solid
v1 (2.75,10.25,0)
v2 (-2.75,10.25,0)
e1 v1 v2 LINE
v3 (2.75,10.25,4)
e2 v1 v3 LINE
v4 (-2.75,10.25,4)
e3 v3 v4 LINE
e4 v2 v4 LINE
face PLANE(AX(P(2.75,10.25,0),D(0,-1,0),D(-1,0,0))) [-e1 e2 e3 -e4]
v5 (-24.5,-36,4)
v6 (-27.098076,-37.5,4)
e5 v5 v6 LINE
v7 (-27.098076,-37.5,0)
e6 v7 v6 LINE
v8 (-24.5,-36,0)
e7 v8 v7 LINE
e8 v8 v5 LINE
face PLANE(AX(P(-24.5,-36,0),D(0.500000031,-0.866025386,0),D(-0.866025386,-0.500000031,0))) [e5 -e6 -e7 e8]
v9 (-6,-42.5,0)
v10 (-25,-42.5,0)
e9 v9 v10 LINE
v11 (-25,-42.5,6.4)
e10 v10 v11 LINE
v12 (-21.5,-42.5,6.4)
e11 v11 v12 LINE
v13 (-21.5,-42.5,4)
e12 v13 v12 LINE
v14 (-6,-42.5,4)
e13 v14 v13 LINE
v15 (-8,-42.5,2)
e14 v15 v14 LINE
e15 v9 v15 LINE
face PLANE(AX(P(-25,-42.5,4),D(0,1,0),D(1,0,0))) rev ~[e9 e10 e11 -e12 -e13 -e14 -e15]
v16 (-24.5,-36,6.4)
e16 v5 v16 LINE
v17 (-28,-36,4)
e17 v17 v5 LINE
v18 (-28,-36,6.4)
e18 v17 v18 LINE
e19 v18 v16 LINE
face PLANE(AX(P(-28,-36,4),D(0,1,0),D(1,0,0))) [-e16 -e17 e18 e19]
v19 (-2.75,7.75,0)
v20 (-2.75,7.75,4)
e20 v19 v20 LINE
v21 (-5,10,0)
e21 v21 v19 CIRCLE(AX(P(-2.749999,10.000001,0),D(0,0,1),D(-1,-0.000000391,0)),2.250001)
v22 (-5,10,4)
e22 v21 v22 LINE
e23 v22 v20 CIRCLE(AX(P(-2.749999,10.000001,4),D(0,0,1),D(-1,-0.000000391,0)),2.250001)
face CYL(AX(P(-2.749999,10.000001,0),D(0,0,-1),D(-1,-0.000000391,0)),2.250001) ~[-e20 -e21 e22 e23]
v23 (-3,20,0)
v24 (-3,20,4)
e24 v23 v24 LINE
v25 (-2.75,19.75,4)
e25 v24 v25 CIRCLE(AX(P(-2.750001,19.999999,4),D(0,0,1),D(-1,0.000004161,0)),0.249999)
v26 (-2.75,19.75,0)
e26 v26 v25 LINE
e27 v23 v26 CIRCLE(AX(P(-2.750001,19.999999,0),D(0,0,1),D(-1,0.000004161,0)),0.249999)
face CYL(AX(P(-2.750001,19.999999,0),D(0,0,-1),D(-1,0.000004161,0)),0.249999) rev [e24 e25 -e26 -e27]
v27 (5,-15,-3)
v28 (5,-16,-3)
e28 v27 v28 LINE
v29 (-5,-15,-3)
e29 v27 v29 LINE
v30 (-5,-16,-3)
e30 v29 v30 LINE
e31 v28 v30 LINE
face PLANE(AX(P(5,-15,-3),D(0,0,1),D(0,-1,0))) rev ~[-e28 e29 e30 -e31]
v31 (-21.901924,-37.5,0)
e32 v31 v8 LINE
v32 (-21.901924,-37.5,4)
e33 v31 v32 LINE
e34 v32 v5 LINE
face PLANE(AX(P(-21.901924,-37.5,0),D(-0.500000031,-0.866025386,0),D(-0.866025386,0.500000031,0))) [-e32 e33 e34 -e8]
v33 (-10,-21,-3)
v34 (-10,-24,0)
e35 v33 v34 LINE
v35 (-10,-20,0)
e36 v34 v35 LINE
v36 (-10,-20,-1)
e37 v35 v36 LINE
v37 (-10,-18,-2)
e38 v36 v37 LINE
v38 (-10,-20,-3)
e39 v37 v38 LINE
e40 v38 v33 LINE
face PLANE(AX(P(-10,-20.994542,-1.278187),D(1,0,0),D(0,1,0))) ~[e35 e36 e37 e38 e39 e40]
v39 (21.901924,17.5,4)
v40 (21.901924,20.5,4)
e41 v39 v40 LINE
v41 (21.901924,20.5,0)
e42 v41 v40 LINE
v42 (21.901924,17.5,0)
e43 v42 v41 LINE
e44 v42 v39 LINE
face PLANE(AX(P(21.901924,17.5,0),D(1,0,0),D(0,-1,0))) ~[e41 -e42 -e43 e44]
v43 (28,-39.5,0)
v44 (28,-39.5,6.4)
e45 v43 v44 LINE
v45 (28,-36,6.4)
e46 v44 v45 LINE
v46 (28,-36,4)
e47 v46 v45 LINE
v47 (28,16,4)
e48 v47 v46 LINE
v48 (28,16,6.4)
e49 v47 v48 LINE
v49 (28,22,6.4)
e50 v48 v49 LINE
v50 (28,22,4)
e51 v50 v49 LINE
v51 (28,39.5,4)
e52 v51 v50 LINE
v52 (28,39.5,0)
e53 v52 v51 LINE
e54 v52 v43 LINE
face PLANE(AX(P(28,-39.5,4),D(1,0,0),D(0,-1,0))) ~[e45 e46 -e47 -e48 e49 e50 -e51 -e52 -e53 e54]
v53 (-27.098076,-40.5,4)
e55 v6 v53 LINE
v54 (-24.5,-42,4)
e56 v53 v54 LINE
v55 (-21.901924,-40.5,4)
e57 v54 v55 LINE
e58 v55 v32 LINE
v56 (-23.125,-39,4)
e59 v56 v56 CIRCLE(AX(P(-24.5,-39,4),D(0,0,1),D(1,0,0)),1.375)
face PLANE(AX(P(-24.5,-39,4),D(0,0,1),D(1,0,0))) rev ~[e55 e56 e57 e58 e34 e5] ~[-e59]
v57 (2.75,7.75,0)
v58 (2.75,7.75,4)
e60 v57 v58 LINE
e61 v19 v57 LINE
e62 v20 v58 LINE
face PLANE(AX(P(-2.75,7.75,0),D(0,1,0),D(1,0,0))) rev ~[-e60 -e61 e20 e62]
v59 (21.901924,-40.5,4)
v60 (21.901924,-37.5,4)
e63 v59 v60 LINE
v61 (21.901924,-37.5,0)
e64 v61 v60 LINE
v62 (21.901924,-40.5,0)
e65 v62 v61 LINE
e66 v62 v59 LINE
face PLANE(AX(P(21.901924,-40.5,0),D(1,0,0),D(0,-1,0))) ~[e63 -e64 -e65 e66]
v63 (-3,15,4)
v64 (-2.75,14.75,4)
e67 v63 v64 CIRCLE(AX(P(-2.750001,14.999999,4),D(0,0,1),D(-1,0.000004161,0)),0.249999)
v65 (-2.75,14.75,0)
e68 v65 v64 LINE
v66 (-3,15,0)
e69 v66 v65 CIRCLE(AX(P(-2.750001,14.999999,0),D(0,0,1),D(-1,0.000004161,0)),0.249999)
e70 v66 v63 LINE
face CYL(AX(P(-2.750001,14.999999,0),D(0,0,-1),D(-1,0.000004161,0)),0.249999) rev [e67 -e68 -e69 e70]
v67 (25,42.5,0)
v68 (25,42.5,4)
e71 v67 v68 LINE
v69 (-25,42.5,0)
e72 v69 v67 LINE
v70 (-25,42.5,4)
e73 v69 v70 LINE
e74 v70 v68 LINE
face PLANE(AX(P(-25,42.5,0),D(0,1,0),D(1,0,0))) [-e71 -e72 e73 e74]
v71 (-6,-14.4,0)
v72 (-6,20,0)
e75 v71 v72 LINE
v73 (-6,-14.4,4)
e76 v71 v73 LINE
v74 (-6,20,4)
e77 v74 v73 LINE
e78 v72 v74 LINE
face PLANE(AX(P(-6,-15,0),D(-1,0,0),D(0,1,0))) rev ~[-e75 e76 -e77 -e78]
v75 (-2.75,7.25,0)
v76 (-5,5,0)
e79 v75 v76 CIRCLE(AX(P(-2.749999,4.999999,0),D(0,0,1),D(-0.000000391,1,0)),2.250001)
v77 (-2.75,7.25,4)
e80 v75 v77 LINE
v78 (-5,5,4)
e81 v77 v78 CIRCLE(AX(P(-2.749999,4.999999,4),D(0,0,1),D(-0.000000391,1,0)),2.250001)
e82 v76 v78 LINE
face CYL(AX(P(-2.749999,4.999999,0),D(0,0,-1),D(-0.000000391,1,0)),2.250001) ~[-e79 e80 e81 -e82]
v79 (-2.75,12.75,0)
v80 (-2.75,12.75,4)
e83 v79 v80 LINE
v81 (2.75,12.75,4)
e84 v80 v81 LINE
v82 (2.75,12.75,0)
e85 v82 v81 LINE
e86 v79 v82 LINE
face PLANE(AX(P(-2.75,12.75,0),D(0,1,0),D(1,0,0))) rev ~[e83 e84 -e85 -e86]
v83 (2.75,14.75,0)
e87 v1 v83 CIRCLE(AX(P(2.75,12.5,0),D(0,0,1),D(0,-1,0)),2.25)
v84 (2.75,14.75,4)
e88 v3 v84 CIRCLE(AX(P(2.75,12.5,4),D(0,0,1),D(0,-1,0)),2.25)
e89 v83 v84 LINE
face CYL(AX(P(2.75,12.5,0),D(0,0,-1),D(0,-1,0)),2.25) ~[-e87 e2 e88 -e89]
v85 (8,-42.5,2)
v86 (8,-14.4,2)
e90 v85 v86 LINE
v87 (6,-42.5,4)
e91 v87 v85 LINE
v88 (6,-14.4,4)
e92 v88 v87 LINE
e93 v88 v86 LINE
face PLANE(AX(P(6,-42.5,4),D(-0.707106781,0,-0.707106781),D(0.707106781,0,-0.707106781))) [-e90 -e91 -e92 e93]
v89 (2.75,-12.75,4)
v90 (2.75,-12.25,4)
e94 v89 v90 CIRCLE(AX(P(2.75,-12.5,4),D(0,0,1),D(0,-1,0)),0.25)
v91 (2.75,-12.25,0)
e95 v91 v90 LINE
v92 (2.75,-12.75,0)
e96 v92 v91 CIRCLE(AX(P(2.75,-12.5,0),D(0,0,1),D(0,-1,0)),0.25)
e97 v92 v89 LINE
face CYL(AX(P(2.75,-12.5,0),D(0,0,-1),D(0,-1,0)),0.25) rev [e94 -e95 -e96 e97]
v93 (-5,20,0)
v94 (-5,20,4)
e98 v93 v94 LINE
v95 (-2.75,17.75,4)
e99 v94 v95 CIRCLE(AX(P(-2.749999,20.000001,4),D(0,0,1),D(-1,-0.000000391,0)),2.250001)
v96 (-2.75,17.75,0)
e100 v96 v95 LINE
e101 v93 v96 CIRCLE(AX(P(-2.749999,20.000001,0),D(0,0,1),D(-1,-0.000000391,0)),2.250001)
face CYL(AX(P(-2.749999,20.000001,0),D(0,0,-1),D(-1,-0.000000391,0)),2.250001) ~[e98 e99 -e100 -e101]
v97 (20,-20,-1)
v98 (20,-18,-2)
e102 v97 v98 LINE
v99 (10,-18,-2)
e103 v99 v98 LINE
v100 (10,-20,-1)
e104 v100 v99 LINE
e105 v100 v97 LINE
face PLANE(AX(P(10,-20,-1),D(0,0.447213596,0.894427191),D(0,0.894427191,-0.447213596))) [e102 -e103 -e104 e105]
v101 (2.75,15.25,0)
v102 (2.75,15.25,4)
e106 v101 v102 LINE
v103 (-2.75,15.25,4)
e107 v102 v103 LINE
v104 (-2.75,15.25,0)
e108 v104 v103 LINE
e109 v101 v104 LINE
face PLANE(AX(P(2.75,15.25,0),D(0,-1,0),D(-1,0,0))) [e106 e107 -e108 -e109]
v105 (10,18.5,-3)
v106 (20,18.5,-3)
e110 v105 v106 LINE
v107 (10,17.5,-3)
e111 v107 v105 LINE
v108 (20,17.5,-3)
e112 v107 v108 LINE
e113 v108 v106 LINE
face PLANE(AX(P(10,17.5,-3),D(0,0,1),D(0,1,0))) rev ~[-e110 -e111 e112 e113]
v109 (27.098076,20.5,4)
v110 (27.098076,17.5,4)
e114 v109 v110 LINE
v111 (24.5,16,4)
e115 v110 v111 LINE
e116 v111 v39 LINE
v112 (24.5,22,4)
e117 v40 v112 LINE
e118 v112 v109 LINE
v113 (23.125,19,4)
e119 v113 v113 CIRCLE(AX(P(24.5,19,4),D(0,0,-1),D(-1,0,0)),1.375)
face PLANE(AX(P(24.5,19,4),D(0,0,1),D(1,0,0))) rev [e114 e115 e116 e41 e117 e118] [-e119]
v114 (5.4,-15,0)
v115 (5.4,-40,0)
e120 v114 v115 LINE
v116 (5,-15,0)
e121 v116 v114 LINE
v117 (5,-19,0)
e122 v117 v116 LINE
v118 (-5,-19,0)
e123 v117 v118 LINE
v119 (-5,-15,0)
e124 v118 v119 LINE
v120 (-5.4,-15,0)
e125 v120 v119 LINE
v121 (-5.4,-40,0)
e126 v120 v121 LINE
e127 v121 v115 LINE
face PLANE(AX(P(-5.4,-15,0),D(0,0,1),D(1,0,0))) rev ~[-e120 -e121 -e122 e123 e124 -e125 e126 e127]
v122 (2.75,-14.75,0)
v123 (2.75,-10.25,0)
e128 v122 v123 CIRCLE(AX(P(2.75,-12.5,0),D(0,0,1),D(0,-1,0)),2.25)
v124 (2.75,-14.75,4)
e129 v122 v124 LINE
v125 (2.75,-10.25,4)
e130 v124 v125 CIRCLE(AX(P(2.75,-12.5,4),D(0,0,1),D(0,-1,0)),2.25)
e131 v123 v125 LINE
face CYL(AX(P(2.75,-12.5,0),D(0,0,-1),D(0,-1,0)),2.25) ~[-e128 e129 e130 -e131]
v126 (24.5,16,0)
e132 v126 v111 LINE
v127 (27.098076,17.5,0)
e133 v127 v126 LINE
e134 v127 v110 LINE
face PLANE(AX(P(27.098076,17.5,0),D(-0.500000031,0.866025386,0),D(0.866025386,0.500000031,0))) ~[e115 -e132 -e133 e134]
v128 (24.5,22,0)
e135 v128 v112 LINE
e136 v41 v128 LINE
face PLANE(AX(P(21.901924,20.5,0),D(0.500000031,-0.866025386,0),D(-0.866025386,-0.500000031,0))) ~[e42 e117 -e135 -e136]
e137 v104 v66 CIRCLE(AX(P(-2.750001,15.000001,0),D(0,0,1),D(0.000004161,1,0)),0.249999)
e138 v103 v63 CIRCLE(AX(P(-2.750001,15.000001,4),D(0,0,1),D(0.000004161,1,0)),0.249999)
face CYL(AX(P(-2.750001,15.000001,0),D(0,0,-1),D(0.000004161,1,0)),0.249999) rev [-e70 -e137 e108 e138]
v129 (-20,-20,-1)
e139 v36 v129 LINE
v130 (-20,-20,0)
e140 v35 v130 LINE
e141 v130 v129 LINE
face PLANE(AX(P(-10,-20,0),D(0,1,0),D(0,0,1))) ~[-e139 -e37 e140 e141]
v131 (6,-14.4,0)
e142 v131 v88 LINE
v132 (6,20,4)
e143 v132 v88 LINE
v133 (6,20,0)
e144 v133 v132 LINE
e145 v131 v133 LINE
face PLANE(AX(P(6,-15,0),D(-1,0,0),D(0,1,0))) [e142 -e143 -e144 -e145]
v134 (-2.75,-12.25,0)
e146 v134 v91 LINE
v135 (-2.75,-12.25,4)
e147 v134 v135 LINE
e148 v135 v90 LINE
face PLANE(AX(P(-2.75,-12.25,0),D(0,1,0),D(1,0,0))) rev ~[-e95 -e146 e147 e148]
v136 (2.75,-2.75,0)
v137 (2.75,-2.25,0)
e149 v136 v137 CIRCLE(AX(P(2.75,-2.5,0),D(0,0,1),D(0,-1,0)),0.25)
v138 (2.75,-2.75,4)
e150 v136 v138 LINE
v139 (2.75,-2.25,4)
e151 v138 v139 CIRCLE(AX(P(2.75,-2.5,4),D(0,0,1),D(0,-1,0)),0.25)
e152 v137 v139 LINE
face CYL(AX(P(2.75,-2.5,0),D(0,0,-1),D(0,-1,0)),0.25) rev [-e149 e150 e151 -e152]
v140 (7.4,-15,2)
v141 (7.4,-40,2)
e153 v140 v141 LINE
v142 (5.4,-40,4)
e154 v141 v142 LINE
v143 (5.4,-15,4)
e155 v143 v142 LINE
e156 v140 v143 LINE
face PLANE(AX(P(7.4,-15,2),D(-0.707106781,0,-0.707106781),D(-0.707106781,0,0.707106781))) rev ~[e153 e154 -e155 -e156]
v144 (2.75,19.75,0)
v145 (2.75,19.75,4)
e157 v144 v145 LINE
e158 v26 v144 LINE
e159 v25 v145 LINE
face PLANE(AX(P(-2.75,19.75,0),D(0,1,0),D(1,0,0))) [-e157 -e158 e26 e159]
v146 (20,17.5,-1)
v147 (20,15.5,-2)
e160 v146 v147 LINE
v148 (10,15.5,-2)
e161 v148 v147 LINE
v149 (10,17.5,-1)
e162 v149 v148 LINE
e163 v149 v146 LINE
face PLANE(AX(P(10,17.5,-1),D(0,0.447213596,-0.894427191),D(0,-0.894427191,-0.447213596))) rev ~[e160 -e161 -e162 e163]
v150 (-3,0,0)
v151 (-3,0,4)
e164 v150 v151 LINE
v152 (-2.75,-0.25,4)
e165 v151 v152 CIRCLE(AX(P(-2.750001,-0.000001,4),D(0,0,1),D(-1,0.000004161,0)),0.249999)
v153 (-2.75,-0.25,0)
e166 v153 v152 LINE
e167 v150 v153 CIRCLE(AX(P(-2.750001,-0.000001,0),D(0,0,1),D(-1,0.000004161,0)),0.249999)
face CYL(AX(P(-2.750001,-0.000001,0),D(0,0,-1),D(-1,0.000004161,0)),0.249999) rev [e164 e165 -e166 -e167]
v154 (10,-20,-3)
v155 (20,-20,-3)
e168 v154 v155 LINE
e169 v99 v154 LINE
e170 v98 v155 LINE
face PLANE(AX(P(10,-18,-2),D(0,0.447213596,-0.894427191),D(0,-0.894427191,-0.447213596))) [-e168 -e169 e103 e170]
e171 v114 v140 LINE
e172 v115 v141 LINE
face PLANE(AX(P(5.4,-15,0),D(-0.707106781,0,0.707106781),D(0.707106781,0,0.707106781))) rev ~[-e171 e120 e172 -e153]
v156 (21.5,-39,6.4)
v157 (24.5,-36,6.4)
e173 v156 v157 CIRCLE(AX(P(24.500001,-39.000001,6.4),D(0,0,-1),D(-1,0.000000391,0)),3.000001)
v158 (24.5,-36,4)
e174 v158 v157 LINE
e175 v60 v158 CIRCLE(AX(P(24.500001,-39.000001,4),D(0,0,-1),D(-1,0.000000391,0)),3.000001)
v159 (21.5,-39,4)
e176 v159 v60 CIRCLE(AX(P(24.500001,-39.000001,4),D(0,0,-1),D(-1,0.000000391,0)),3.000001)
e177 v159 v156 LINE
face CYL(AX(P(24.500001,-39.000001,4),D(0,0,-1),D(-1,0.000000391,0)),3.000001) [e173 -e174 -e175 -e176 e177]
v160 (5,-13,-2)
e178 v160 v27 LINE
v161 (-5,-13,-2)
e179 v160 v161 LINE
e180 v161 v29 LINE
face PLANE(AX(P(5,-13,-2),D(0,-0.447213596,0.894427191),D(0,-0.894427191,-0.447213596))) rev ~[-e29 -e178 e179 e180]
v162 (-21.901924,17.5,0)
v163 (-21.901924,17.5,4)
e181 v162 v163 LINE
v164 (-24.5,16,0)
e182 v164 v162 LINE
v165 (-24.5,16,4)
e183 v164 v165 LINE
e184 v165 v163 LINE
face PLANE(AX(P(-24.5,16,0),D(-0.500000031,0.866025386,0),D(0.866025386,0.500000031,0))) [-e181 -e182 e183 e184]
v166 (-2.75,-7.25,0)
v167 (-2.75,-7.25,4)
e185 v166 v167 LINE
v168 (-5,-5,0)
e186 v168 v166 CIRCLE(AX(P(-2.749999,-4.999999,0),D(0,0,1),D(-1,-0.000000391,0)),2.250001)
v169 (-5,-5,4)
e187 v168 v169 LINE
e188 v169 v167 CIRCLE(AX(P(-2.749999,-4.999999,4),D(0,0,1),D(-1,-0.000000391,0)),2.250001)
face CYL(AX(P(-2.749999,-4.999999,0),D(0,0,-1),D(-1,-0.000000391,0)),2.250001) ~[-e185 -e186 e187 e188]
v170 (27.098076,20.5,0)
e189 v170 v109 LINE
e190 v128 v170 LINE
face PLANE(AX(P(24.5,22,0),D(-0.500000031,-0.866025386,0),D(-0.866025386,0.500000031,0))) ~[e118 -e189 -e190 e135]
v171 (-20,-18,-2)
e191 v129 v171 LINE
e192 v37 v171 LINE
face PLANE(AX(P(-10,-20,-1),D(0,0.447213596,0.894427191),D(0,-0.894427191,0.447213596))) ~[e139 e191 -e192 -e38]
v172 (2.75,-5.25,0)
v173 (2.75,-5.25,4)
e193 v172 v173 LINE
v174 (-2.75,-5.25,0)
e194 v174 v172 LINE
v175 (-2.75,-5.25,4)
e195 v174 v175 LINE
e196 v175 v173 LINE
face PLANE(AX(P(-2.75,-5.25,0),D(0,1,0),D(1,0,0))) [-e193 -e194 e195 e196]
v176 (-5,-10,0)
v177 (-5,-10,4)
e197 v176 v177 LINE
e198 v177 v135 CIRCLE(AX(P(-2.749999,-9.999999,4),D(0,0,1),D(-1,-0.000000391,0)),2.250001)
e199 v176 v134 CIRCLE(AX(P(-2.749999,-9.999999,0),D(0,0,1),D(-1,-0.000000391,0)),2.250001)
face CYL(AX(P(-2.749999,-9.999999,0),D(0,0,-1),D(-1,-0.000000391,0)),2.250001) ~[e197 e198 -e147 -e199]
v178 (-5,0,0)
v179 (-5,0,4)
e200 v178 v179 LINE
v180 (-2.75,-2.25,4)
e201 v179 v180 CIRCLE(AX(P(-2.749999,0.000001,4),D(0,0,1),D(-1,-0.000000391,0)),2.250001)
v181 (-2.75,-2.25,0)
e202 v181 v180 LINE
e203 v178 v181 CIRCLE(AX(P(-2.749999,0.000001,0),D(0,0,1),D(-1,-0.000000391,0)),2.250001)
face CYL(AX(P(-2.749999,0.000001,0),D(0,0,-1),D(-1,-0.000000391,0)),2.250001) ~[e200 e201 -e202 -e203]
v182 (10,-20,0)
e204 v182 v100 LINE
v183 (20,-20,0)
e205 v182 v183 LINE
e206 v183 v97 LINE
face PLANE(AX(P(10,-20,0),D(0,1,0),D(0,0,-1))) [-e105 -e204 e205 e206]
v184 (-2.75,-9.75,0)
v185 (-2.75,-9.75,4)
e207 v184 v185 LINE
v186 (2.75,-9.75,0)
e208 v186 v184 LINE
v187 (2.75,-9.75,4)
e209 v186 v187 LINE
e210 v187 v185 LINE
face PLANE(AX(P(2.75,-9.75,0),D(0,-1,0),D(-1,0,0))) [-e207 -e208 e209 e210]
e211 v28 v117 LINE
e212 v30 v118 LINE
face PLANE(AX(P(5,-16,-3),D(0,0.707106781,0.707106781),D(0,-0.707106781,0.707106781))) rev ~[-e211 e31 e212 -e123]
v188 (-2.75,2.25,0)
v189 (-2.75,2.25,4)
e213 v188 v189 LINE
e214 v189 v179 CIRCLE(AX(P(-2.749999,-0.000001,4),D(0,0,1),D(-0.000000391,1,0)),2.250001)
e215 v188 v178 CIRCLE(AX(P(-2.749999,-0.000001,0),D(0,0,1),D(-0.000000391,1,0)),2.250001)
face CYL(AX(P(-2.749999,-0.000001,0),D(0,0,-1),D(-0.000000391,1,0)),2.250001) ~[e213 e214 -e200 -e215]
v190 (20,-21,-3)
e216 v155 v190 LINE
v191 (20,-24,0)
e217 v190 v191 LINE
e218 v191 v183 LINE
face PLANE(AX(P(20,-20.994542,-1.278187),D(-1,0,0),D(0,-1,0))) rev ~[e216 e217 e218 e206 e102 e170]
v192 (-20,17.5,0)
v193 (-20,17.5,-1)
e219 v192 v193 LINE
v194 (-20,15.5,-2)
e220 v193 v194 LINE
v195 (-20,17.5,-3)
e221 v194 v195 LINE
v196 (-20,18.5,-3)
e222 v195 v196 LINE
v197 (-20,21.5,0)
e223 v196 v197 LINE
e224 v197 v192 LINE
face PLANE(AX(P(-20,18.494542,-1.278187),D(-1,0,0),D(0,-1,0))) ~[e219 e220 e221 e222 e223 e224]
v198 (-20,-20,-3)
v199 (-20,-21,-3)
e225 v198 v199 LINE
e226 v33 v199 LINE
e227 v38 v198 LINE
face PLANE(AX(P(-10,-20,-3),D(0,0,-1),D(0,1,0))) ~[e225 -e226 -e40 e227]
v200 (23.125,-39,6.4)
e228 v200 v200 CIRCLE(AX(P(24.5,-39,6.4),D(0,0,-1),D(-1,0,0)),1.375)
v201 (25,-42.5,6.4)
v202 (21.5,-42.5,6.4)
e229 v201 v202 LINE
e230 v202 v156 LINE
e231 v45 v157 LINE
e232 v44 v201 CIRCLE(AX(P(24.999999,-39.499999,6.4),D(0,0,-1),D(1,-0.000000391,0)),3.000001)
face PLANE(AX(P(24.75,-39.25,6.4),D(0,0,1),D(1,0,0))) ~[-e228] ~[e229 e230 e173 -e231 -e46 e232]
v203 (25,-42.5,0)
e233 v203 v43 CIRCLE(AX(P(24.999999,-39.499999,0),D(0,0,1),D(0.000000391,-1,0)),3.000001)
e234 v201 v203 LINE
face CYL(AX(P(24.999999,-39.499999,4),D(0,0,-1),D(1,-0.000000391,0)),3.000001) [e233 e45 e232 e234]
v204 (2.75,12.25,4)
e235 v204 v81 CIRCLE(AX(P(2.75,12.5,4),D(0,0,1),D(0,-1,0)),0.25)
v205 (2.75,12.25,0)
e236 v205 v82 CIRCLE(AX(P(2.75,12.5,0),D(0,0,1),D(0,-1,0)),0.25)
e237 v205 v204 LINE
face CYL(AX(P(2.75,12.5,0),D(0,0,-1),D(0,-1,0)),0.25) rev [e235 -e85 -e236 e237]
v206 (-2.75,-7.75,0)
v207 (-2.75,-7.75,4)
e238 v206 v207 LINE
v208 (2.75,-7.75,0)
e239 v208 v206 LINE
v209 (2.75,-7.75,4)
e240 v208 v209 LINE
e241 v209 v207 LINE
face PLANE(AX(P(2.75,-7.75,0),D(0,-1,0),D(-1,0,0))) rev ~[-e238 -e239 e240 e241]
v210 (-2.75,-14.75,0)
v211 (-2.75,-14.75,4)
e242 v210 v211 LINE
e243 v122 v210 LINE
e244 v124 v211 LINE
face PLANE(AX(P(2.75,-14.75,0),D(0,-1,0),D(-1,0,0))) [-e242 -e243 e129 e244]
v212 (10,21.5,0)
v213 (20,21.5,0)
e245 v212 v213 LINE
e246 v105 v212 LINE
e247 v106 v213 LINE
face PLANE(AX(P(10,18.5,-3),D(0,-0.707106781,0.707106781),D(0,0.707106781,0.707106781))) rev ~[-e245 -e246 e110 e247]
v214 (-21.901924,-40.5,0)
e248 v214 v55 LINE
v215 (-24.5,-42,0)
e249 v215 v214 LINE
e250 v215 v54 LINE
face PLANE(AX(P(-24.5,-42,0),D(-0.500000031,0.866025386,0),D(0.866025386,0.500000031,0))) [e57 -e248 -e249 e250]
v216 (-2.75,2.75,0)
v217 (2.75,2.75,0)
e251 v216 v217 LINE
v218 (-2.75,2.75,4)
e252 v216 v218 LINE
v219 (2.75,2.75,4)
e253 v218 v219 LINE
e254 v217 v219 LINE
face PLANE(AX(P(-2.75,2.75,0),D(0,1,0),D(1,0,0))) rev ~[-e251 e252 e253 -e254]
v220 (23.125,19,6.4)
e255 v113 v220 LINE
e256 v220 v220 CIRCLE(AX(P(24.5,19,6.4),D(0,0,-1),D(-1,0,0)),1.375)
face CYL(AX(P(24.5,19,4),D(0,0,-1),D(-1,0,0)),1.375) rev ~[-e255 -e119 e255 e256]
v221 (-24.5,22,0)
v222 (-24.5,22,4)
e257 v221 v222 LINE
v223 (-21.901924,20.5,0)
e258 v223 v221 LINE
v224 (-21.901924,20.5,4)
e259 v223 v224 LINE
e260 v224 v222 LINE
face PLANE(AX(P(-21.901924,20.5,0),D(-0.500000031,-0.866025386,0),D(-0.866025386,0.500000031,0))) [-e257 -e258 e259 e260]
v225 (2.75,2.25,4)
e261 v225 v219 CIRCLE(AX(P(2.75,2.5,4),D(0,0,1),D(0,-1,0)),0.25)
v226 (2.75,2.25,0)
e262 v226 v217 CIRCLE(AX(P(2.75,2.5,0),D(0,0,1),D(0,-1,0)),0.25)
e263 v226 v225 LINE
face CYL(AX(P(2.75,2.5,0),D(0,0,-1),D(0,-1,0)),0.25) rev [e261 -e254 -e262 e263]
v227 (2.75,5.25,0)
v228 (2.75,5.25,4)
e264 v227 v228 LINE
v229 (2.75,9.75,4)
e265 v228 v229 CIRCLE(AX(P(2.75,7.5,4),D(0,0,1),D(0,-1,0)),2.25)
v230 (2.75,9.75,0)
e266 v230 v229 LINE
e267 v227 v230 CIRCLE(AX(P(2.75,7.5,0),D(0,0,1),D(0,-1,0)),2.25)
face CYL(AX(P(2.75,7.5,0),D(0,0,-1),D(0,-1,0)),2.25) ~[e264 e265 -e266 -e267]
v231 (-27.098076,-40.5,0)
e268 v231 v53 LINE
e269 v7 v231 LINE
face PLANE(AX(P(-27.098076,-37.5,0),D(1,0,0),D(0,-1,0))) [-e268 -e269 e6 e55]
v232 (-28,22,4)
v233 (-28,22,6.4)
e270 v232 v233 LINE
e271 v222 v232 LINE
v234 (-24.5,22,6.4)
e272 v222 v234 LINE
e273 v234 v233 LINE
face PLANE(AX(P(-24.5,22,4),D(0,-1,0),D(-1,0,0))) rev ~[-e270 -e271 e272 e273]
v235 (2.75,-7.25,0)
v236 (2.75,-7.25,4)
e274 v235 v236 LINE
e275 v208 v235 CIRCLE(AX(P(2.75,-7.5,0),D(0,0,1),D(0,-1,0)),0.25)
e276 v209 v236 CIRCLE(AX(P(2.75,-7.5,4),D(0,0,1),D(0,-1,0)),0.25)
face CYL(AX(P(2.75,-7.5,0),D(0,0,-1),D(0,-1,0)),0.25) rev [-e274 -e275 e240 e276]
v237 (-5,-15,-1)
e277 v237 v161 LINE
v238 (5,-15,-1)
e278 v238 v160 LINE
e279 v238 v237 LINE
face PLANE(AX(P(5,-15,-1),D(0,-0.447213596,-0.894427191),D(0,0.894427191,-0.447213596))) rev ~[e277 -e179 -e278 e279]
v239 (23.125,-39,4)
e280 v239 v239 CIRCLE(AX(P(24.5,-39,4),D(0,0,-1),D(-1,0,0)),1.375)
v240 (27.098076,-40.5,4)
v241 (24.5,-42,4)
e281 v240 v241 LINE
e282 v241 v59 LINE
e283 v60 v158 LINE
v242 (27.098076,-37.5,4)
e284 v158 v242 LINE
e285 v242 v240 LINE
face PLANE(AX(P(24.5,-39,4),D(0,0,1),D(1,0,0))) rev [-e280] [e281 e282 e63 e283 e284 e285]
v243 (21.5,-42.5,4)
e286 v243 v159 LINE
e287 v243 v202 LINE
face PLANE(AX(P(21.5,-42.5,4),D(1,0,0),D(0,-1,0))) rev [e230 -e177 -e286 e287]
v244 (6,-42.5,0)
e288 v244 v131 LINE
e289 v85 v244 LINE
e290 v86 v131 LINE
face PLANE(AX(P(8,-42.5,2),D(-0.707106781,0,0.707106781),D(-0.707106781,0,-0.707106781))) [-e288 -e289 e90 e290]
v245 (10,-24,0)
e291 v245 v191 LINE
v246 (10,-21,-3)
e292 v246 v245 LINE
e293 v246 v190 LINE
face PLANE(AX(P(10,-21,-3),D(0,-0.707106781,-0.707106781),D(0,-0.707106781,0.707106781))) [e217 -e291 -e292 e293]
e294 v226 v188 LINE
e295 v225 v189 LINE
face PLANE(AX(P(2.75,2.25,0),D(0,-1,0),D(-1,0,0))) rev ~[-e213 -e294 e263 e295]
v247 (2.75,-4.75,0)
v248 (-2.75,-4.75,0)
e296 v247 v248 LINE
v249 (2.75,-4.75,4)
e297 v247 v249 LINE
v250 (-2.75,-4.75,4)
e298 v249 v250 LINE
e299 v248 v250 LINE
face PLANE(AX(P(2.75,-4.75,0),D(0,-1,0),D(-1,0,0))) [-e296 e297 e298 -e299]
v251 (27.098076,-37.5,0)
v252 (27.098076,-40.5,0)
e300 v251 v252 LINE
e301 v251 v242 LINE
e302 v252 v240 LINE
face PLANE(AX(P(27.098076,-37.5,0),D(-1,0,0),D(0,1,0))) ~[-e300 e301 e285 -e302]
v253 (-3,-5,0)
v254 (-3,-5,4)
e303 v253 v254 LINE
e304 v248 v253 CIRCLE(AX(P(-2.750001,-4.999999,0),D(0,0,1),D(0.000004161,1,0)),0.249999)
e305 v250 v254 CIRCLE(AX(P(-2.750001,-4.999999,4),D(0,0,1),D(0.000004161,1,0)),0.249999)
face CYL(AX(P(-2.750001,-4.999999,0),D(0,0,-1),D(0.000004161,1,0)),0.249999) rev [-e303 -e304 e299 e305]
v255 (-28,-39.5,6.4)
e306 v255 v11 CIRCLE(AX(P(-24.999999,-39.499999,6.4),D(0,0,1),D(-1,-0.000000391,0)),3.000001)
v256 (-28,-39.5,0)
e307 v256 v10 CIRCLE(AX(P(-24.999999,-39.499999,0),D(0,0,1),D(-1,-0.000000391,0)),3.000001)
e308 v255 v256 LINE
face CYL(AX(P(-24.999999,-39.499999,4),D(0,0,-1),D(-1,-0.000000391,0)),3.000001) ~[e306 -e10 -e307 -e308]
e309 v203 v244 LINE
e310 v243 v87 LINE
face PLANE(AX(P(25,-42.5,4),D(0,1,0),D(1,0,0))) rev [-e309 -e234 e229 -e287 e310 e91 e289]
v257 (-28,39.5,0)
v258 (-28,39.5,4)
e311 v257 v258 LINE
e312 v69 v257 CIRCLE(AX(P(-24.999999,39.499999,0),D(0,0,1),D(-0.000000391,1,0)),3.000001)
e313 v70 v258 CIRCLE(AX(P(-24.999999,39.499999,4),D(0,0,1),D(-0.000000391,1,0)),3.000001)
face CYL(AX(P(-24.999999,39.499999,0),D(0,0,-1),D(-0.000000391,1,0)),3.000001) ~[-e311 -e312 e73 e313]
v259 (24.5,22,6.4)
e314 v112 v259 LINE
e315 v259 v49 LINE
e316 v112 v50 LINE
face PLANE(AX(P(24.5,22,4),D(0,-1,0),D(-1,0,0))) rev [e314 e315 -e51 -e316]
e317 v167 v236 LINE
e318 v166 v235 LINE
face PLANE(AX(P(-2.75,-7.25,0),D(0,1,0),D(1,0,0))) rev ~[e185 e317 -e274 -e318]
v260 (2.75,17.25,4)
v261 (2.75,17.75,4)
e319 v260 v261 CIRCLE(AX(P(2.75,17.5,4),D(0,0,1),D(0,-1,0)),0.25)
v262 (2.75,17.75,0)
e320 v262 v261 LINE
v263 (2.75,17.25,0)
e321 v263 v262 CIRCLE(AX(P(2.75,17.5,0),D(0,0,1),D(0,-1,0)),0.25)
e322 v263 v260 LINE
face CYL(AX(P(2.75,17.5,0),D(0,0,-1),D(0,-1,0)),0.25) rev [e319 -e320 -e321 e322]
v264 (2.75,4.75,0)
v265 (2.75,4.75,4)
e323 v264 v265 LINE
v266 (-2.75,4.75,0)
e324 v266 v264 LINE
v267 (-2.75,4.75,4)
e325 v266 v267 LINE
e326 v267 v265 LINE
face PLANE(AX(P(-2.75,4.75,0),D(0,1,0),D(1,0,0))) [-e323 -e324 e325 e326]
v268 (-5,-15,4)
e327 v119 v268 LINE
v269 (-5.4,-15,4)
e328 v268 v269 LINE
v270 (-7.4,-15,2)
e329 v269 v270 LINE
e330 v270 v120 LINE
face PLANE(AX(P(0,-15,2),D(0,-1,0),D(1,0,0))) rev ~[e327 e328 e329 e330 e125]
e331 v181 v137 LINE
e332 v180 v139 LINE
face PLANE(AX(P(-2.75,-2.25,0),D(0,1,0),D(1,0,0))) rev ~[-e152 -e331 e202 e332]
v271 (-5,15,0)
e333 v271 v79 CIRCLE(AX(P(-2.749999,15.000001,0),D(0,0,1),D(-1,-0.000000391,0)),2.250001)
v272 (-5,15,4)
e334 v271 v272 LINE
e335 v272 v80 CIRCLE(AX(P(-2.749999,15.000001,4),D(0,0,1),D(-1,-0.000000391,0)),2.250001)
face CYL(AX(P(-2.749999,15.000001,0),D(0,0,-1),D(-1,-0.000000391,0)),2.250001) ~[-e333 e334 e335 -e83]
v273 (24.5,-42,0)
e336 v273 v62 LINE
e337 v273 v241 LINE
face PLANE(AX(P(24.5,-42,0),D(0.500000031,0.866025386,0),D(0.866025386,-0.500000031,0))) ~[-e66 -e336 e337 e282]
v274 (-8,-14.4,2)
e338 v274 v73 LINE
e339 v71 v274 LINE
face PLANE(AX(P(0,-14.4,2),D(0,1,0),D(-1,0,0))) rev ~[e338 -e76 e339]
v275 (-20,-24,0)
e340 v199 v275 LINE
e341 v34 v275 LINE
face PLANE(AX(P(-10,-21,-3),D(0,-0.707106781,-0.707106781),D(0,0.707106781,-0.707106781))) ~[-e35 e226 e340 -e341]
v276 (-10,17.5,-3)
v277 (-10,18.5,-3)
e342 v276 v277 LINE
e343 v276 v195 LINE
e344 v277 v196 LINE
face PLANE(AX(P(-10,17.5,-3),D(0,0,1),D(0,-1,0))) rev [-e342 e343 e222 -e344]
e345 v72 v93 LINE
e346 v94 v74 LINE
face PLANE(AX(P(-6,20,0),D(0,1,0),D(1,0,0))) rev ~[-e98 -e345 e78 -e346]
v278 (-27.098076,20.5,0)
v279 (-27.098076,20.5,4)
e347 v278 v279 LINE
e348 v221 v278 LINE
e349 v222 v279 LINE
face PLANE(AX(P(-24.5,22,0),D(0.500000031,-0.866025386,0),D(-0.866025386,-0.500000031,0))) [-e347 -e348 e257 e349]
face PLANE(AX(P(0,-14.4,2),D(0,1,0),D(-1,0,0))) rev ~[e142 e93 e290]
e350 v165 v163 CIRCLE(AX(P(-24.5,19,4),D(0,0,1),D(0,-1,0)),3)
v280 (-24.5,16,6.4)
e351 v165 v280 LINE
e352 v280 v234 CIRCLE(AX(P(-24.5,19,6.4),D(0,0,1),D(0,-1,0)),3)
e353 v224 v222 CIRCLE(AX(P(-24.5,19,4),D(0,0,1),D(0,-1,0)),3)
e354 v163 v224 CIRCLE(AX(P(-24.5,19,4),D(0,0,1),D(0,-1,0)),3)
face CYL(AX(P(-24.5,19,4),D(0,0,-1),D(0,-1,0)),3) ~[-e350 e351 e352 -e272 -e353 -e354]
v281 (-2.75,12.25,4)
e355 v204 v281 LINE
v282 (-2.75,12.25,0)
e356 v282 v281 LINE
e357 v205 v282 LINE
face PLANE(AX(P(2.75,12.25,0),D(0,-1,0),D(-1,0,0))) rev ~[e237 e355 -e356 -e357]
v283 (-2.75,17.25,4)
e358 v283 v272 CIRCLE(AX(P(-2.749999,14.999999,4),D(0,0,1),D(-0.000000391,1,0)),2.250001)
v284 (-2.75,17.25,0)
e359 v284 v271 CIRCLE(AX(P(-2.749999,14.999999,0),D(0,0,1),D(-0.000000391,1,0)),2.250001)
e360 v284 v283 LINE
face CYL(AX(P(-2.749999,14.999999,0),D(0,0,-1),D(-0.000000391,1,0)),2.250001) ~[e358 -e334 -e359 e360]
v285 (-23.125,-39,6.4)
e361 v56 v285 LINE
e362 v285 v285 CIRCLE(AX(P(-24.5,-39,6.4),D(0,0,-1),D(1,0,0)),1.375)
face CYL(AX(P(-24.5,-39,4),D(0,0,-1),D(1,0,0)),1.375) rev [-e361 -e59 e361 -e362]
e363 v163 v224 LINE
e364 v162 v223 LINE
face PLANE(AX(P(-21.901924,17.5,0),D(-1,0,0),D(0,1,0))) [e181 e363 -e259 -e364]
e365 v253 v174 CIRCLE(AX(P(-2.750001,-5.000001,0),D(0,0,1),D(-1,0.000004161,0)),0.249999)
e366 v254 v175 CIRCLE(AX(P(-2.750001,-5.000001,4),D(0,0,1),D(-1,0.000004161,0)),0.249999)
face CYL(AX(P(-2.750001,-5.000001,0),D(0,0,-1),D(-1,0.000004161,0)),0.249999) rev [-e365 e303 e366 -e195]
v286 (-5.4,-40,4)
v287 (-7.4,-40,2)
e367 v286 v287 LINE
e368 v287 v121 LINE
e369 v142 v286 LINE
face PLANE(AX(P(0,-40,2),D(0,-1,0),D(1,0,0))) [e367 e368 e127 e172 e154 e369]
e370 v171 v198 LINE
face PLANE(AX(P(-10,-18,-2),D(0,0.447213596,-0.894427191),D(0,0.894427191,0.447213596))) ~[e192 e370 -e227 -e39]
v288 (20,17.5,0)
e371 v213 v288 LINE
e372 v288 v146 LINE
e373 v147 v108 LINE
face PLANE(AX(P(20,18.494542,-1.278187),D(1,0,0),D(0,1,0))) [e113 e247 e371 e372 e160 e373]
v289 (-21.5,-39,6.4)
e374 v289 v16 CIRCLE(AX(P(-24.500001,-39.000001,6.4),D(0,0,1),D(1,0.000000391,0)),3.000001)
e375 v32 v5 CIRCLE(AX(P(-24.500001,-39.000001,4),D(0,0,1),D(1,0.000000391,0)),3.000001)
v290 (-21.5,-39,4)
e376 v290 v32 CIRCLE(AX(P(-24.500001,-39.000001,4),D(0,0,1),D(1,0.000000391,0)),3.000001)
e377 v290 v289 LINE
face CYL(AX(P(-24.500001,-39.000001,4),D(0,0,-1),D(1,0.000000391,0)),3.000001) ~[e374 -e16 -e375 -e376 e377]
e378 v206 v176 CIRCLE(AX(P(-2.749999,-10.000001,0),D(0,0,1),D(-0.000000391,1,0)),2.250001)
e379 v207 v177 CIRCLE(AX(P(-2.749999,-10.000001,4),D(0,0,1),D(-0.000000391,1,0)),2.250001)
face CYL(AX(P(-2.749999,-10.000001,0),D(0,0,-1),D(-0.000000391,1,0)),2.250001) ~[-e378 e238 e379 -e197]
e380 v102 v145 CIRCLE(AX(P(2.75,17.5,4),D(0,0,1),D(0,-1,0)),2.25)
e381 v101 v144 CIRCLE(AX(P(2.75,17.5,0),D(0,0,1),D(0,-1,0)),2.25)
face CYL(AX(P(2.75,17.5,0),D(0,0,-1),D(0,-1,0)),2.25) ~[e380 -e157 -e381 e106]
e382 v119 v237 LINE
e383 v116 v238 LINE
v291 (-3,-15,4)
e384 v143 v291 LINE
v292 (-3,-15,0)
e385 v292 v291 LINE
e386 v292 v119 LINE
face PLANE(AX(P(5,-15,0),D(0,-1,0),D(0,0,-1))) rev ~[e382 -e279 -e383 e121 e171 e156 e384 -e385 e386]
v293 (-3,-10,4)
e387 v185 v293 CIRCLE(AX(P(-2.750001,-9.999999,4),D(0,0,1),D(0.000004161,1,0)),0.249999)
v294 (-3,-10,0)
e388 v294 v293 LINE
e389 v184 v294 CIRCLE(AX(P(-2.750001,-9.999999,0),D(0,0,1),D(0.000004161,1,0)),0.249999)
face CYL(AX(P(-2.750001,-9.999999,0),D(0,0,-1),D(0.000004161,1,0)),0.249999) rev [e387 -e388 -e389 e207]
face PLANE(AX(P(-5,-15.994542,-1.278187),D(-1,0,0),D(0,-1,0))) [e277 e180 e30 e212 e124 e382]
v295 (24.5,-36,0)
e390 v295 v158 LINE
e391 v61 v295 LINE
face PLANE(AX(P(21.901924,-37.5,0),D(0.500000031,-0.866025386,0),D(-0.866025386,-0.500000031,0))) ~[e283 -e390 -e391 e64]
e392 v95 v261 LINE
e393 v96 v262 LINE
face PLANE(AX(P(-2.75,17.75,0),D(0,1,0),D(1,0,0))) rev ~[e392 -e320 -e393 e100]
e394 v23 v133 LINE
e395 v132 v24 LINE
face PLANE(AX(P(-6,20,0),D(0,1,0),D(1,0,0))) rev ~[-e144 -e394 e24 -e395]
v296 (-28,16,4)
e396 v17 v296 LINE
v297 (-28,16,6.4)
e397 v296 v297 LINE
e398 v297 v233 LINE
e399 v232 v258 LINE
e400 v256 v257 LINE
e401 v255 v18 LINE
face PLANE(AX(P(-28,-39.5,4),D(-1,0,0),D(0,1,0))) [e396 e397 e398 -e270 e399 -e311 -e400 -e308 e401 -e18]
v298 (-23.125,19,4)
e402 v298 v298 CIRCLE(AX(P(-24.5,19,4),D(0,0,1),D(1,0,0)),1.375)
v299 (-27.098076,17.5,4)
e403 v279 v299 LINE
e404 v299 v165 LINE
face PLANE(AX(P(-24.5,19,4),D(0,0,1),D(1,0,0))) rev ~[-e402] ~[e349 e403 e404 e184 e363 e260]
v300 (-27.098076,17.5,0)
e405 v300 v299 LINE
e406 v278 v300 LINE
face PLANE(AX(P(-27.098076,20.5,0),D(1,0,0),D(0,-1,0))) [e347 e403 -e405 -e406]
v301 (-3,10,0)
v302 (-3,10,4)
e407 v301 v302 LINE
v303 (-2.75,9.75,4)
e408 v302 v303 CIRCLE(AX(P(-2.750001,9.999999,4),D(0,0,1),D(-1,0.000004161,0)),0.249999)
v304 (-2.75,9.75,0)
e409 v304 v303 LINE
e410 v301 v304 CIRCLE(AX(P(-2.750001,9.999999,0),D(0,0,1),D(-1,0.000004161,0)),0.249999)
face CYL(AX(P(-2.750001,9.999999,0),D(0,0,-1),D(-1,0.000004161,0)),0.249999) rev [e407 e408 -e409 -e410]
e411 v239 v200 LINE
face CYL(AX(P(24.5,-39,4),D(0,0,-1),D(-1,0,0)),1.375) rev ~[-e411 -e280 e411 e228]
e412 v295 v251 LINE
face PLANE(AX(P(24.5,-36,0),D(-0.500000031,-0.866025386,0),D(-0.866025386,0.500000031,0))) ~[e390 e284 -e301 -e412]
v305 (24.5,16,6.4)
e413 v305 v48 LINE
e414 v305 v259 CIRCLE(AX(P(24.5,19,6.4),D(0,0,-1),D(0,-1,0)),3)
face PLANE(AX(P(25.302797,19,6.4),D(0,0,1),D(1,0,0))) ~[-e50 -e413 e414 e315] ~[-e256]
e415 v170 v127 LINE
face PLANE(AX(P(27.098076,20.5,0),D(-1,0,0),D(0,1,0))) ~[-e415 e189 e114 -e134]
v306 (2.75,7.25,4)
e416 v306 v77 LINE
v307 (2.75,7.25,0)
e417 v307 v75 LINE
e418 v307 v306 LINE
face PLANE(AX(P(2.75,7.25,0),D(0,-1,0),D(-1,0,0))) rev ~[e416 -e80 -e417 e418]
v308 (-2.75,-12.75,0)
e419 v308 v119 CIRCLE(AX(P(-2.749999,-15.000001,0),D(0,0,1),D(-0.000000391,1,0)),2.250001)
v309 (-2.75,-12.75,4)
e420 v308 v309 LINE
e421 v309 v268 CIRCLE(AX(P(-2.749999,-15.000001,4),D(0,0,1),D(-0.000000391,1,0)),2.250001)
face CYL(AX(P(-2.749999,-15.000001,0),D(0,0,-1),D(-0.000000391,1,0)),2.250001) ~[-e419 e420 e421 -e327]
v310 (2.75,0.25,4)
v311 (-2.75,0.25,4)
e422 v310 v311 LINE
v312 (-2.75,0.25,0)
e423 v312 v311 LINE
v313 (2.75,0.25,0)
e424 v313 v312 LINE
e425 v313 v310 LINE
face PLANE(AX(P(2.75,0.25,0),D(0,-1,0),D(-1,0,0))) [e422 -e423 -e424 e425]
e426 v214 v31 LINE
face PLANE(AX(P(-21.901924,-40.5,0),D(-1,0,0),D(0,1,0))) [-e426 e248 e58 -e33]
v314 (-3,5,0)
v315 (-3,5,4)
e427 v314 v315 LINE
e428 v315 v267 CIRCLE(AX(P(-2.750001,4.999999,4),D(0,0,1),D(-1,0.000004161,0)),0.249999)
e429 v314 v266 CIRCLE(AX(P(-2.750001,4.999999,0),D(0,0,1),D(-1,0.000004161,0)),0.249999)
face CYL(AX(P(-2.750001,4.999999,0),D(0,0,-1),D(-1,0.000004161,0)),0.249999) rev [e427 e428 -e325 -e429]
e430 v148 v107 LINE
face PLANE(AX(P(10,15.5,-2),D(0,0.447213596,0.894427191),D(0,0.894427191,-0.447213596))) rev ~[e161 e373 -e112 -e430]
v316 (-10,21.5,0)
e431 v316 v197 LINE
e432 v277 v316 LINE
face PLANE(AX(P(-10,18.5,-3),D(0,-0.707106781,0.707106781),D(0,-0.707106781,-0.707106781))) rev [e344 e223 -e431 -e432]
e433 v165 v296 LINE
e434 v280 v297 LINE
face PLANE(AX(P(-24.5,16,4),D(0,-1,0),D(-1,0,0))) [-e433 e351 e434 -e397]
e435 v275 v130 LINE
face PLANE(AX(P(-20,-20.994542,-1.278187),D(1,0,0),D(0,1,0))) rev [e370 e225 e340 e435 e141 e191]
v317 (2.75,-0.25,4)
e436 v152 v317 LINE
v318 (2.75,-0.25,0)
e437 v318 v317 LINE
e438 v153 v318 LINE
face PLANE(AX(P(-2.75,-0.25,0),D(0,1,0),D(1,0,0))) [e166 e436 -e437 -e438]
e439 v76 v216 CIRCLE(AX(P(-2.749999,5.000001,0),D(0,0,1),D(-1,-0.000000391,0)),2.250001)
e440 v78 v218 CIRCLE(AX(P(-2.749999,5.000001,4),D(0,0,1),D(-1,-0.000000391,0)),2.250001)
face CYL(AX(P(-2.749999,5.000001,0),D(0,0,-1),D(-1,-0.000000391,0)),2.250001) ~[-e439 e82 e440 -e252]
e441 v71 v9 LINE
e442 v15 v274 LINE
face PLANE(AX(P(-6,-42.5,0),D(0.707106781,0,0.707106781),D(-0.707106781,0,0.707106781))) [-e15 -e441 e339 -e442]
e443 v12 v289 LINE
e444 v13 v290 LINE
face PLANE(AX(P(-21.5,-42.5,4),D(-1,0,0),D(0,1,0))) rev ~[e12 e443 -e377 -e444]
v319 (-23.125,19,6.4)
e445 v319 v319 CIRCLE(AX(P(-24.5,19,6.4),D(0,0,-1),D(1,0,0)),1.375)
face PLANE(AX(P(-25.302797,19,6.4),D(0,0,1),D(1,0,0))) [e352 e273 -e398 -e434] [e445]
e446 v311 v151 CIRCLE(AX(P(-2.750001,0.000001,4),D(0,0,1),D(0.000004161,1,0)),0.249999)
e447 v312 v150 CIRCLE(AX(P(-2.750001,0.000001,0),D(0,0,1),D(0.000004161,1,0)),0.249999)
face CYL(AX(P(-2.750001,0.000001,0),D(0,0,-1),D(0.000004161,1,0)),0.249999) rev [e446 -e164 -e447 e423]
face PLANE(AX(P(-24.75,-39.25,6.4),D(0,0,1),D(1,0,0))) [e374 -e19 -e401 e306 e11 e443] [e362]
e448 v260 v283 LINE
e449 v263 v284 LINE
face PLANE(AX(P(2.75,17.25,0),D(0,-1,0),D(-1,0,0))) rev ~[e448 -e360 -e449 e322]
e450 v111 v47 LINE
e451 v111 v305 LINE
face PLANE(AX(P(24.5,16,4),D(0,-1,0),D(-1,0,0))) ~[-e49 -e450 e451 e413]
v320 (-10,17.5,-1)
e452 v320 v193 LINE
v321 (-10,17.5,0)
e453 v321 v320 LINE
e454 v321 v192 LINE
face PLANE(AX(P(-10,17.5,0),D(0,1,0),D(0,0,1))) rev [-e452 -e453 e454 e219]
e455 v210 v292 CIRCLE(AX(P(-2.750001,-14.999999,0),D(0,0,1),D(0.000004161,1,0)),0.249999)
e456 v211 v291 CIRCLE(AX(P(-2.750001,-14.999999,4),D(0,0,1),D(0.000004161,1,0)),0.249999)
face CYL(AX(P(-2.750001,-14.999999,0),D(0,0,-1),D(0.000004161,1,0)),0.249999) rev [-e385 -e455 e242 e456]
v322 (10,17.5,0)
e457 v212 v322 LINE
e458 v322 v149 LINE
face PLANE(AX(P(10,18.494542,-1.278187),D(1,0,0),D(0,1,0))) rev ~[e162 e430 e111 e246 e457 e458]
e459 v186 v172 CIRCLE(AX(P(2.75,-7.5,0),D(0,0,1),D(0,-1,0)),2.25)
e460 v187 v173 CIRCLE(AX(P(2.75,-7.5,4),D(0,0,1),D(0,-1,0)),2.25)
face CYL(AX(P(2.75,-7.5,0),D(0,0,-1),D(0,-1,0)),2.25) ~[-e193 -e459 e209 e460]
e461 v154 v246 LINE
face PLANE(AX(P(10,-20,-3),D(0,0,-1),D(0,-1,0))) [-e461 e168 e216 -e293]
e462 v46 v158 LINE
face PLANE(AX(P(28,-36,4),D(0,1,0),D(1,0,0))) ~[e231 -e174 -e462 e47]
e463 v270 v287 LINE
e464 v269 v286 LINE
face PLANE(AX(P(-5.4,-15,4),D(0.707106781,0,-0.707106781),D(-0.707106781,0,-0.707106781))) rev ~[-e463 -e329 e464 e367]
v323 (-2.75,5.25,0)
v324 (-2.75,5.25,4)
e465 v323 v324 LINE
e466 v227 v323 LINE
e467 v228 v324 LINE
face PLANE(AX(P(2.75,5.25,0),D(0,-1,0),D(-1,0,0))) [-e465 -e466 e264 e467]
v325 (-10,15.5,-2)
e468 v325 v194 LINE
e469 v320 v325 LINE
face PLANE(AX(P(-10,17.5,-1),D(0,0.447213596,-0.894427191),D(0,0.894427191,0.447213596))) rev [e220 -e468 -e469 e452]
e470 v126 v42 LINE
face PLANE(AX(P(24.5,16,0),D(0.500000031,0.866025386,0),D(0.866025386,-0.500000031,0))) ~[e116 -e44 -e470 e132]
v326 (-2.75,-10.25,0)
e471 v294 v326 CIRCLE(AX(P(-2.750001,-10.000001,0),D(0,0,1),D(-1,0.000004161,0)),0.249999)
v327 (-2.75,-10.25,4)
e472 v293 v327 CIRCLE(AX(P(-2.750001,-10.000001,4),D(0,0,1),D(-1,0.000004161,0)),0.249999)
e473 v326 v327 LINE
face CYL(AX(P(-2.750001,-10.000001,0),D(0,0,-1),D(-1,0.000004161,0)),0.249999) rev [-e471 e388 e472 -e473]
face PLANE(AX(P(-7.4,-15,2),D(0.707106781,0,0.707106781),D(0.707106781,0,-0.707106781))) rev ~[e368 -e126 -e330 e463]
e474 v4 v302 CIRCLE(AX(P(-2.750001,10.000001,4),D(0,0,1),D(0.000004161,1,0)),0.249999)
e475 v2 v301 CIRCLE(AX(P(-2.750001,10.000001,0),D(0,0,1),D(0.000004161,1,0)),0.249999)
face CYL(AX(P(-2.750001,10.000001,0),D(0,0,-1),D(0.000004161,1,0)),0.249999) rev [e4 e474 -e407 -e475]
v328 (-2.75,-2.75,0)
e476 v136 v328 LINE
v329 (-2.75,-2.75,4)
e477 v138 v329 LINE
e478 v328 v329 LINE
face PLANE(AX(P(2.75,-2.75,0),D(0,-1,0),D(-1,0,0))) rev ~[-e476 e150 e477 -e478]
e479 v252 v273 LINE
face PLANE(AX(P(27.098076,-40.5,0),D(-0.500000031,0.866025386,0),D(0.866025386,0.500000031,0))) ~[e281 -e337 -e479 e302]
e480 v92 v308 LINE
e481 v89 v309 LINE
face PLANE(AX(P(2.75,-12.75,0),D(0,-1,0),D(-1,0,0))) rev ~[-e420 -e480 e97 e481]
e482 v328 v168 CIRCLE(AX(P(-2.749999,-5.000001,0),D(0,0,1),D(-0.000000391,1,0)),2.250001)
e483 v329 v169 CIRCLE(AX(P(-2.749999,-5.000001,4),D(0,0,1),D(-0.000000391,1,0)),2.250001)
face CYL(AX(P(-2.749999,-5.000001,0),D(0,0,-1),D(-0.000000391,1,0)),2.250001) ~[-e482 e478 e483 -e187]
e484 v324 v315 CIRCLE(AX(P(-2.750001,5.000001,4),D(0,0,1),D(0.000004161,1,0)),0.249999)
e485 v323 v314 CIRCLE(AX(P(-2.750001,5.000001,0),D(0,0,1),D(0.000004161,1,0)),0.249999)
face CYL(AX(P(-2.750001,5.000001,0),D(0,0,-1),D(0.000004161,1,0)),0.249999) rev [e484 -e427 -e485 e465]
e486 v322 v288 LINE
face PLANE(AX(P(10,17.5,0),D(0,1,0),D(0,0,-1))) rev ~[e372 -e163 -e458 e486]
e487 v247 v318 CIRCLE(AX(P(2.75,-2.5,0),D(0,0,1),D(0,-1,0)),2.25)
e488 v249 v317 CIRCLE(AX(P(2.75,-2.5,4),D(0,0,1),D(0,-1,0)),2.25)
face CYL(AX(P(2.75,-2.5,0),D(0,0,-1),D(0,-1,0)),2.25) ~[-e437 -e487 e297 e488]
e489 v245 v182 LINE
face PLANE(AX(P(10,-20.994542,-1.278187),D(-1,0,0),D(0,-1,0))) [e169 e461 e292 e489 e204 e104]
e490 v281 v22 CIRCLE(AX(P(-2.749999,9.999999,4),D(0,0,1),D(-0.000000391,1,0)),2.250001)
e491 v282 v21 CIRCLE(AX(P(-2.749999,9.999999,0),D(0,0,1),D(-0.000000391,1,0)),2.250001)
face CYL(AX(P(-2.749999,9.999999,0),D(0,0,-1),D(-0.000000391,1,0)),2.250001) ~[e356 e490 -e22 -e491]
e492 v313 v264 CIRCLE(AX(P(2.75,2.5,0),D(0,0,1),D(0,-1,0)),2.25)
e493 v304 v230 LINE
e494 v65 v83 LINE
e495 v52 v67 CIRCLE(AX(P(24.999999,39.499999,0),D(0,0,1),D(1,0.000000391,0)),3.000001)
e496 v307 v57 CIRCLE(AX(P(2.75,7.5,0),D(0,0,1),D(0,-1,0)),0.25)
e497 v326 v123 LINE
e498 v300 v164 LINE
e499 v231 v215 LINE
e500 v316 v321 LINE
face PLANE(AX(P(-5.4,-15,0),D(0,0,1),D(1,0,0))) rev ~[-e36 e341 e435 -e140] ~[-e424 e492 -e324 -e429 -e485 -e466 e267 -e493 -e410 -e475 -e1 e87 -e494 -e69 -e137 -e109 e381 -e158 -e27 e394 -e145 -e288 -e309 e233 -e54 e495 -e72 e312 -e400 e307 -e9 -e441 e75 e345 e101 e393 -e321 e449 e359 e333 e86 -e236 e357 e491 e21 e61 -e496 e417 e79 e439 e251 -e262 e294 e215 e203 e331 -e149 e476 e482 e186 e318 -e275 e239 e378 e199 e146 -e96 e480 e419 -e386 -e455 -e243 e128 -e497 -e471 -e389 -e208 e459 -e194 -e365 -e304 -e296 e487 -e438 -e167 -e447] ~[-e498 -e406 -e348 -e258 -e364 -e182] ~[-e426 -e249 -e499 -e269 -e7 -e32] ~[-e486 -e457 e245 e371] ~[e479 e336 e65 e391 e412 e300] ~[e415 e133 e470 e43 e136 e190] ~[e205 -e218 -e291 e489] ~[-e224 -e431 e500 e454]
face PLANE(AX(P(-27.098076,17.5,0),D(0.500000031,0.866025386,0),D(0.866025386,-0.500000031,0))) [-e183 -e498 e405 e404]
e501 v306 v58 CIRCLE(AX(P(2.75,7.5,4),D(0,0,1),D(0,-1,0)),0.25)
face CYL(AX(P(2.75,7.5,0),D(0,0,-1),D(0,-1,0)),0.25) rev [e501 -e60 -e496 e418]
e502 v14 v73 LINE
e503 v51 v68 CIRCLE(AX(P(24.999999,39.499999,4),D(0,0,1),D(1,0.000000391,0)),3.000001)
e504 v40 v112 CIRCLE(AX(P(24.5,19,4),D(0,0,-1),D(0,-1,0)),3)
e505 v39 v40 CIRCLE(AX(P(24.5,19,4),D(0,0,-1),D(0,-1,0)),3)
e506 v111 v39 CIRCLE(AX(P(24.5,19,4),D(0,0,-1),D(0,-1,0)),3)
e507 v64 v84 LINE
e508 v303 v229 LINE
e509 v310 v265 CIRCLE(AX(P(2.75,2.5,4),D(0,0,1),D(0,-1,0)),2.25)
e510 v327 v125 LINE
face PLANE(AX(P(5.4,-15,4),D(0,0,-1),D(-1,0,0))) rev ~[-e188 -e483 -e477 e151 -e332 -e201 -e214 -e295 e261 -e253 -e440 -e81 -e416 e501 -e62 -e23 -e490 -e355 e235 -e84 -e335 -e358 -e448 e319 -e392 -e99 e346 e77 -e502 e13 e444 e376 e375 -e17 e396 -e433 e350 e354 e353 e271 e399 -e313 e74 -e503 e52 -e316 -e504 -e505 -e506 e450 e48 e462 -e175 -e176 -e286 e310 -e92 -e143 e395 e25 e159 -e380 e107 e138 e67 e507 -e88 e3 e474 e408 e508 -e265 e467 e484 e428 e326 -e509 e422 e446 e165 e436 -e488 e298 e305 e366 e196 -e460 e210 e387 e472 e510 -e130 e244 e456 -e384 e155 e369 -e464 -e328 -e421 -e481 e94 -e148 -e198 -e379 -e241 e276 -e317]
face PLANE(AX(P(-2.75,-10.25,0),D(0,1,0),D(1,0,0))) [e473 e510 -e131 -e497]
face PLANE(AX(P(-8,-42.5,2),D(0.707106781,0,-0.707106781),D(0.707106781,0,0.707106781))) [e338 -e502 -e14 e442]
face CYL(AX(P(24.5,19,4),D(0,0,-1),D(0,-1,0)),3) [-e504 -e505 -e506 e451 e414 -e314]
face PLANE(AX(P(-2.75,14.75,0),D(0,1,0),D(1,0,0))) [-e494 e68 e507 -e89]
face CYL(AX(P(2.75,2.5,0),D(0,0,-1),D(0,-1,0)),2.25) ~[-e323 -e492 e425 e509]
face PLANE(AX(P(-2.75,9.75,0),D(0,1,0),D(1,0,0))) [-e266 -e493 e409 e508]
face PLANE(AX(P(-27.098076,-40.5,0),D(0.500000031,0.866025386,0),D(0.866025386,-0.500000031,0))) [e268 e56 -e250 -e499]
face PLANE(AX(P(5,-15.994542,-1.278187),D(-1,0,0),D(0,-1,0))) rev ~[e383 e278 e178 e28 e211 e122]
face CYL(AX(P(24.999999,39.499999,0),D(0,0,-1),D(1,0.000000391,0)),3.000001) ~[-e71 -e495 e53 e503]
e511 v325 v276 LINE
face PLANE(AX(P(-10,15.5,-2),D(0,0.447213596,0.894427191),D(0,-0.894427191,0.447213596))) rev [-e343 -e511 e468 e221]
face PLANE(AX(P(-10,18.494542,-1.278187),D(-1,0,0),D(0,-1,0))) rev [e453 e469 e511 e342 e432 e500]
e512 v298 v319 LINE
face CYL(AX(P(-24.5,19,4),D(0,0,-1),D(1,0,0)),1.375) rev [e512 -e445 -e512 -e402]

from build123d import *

# Parameters (mm, degrees)
PAD_DEPTH           = 4
PAD001_DEPTH        = 2.4
POCKET002_DEPTH     = 4
SKETCH006_R         = 1.375
POCKET003_DEPTH     = 206.380999
POCKET001_DEPTH     = 28.1
SKETCH007_W         = 12
SKETCH007_H         = 35
POCKET_DEPTH        = 6.401
PAD002_DEPTH        = 4
LINEARPATTERN_COUNT = 7
LINEARPATTERN_PITCH = 5
PAD003_DEPTH        = 25
PAD004_DEPTH        = 10
PAD005_DEPTH        = 10


with BuildPart() as part:
    # Sketch → Pad (new body)
    with BuildSketch(Plane.XY):
        with BuildLine():
            ThreePointArc((-25, 42.5), (-27.12132, 41.62132), (-28, 39.5))
            Line((-28, -39.5), (-28, 39.5))
            ThreePointArc((-28, -39.5), (-27.12132, -41.62132), (-25, -42.5))
            Line((25, -42.5), (-25, -42.5))
            ThreePointArc((25, -42.5), (27.12132, -41.62132), (28, -39.5))
            Line((28, 39.5), (28, -39.5))
            ThreePointArc((28, 39.5), (27.12132, 41.62132), (25, 42.5))
            Line((-25, 42.5), (25, 42.5))
        make_face()
    extrude(amount=PAD_DEPTH)

    # Sketch001 → Pad001 (join)
    with BuildSketch(Plane.XY.offset(4)):
        with BuildLine():
            ThreePointArc((-28, -39.5), (-27.12132, -41.62132), (-25, -42.5))
            Line((-25, -42.5), (-21.5, -42.5))
            Line((-21.5, -42.5), (-21.5, -39))
            ThreePointArc((-21.5, -39), (-22.37868, -36.87868), (-24.5, -36))
            Line((-28, -36), (-24.5, -36))
            Line((-28, -39.5), (-28, -36))
        make_face()
        with BuildLine():
            ThreePointArc((-24.5, 16), (-21.5, 19), (-24.5, 22))
            Line((-24.5, 22), (-28, 22))
            Line((-28, 16), (-28, 22))
            Line((-24.5, 16), (-28, 16))
        make_face()
    pad001 = extrude(amount=PAD001_DEPTH)

    # Sketch005 → Pocket002 (cut)
    with BuildSketch(Plane.XY):
        Polygon((-21.901924, -40.5), (-21.901924, -37.5), (-24.5, -36), (-27.098076, -37.5), (-27.098076, -40.5), (-24.5, -42), align=None)
        Polygon((-21.901924, 17.5), (-21.901924, 20.5), (-24.5, 22), (-27.098076, 20.5), (-27.098076, 17.5), (-24.5, 16), align=None)
    pocket002 = extrude(amount=POCKET002_DEPTH, mode=Mode.SUBTRACT)

    # Sketch006 → Pocket003 (cut, through all)
    with BuildSketch(Plane.XY.offset(4)):
        with Locations((-24.5, 19)):
            Circle(SKETCH006_R)
        with Locations((-24.5, -39)):
            Circle(SKETCH006_R)
    pocket003 = extrude(amount=POCKET003_DEPTH, mode=Mode.SUBTRACT)

    # Sketch003 → Pocket001 (cut)
    with BuildSketch(Plane.XZ.offset(42.5)):
        Polygon((-6, 0), (-8, 2), (-6, 4), (6, 4), (8, 2), (6, 0), align=None)
    extrude(amount=-POCKET001_DEPTH, mode=Mode.SUBTRACT)

    # Sketch007 → Pocket (cut, through all)
    with BuildSketch(Plane.XY):
        with Locations((0, 2.5)):
            Rectangle(SKETCH007_W, SKETCH007_H)
    extrude(amount=POCKET_DEPTH, mode=Mode.SUBTRACT)

    # Sketch009 → Pad002 (join)
    with BuildSketch(Plane.XY):
        with BuildLine():
            Line((-5, 20), (-3, 20))
            ThreePointArc((-3, 20), (-2.926777, 19.823223), (-2.75, 19.75))
            Line((-2.75, 19.75), (2.75, 19.75))
            ThreePointArc((2.75, 15.25), (5, 17.5), (2.75, 19.75))
            Line((2.75, 15.25), (-2.75, 15.25))
            ThreePointArc((-2.75, 15.25), (-2.926777, 15.176777), (-3, 15))
            Line((-5, 15), (-3, 15))
            ThreePointArc((-2.75, 17.25), (-4.34099, 16.59099), (-5, 15))
            Line((2.75, 17.25), (-2.75, 17.25))
            ThreePointArc((2.75, 17.25), (3, 17.5), (2.75, 17.75))
            Line((-2.75, 17.75), (2.75, 17.75))
            ThreePointArc((-5, 20), (-4.34099, 18.40901), (-2.75, 17.75))
        make_face()
    pad002 = extrude(amount=PAD002_DEPTH)

    # LinearPattern: Pad002 ×7
    with Locations(*[(0, -i * LINEARPATTERN_PITCH, 0) for i in range(1, LINEARPATTERN_COUNT)]):
        add(pad002)

    # Sketch008 → Pad003 (join)
    with BuildSketch(Plane.XZ.offset(15)):
        Polygon((-5.4, 0), (5.4, 0), (7.4, 2), (5.4, 4), (-5.4, 4), (-7.4, 2), align=None)
    extrude(amount=PAD003_DEPTH)

    # Sketch010 → Pad004 (join)
    with BuildSketch(Plane.YZ.offset(5)):
        Polygon((-19, 0), (-15, 0), (-15, -1), (-13, -2), (-15, -3), (-16, -3), align=None)
    extrude(amount=-PAD004_DEPTH)

    # Sketch011 → Pad005 (join)
    with BuildSketch(Plane.YZ.offset(10)):
        Polygon((-20, 0), (-20, -1), (-18, -2), (-20, -3), (-21, -3), (-24, 0), align=None)
        Polygon((17.5, 0), (17.5, -1), (15.5, -2), (17.5, -3), (18.5, -3), (21.5, 0), align=None)
    pad005 = extrude(amount=PAD005_DEPTH)

    # Mirrored: Pad001, Pocket002, Pocket003, Pad005 across Sketch001 V_Axis
    add(pad001.mirror(Plane(origin=(0, 0, 4), x_dir=(0, 0, 1), z_dir=(1, 0, 0))))
    add(pocket002.mirror(Plane(origin=(0, 0, 4), x_dir=(0, 0, 1), z_dir=(1, 0, 0))), mode=Mode.SUBTRACT)
    add(pocket003.mirror(Plane(origin=(0, 0, 4), x_dir=(0, 0, 1), z_dir=(1, 0, 0))), mode=Mode.SUBTRACT)
    add(pad005.mirror(Plane(origin=(0, 0, 4), x_dir=(0, 0, 1), z_dir=(1, 0, 0))))


solid = part.part
